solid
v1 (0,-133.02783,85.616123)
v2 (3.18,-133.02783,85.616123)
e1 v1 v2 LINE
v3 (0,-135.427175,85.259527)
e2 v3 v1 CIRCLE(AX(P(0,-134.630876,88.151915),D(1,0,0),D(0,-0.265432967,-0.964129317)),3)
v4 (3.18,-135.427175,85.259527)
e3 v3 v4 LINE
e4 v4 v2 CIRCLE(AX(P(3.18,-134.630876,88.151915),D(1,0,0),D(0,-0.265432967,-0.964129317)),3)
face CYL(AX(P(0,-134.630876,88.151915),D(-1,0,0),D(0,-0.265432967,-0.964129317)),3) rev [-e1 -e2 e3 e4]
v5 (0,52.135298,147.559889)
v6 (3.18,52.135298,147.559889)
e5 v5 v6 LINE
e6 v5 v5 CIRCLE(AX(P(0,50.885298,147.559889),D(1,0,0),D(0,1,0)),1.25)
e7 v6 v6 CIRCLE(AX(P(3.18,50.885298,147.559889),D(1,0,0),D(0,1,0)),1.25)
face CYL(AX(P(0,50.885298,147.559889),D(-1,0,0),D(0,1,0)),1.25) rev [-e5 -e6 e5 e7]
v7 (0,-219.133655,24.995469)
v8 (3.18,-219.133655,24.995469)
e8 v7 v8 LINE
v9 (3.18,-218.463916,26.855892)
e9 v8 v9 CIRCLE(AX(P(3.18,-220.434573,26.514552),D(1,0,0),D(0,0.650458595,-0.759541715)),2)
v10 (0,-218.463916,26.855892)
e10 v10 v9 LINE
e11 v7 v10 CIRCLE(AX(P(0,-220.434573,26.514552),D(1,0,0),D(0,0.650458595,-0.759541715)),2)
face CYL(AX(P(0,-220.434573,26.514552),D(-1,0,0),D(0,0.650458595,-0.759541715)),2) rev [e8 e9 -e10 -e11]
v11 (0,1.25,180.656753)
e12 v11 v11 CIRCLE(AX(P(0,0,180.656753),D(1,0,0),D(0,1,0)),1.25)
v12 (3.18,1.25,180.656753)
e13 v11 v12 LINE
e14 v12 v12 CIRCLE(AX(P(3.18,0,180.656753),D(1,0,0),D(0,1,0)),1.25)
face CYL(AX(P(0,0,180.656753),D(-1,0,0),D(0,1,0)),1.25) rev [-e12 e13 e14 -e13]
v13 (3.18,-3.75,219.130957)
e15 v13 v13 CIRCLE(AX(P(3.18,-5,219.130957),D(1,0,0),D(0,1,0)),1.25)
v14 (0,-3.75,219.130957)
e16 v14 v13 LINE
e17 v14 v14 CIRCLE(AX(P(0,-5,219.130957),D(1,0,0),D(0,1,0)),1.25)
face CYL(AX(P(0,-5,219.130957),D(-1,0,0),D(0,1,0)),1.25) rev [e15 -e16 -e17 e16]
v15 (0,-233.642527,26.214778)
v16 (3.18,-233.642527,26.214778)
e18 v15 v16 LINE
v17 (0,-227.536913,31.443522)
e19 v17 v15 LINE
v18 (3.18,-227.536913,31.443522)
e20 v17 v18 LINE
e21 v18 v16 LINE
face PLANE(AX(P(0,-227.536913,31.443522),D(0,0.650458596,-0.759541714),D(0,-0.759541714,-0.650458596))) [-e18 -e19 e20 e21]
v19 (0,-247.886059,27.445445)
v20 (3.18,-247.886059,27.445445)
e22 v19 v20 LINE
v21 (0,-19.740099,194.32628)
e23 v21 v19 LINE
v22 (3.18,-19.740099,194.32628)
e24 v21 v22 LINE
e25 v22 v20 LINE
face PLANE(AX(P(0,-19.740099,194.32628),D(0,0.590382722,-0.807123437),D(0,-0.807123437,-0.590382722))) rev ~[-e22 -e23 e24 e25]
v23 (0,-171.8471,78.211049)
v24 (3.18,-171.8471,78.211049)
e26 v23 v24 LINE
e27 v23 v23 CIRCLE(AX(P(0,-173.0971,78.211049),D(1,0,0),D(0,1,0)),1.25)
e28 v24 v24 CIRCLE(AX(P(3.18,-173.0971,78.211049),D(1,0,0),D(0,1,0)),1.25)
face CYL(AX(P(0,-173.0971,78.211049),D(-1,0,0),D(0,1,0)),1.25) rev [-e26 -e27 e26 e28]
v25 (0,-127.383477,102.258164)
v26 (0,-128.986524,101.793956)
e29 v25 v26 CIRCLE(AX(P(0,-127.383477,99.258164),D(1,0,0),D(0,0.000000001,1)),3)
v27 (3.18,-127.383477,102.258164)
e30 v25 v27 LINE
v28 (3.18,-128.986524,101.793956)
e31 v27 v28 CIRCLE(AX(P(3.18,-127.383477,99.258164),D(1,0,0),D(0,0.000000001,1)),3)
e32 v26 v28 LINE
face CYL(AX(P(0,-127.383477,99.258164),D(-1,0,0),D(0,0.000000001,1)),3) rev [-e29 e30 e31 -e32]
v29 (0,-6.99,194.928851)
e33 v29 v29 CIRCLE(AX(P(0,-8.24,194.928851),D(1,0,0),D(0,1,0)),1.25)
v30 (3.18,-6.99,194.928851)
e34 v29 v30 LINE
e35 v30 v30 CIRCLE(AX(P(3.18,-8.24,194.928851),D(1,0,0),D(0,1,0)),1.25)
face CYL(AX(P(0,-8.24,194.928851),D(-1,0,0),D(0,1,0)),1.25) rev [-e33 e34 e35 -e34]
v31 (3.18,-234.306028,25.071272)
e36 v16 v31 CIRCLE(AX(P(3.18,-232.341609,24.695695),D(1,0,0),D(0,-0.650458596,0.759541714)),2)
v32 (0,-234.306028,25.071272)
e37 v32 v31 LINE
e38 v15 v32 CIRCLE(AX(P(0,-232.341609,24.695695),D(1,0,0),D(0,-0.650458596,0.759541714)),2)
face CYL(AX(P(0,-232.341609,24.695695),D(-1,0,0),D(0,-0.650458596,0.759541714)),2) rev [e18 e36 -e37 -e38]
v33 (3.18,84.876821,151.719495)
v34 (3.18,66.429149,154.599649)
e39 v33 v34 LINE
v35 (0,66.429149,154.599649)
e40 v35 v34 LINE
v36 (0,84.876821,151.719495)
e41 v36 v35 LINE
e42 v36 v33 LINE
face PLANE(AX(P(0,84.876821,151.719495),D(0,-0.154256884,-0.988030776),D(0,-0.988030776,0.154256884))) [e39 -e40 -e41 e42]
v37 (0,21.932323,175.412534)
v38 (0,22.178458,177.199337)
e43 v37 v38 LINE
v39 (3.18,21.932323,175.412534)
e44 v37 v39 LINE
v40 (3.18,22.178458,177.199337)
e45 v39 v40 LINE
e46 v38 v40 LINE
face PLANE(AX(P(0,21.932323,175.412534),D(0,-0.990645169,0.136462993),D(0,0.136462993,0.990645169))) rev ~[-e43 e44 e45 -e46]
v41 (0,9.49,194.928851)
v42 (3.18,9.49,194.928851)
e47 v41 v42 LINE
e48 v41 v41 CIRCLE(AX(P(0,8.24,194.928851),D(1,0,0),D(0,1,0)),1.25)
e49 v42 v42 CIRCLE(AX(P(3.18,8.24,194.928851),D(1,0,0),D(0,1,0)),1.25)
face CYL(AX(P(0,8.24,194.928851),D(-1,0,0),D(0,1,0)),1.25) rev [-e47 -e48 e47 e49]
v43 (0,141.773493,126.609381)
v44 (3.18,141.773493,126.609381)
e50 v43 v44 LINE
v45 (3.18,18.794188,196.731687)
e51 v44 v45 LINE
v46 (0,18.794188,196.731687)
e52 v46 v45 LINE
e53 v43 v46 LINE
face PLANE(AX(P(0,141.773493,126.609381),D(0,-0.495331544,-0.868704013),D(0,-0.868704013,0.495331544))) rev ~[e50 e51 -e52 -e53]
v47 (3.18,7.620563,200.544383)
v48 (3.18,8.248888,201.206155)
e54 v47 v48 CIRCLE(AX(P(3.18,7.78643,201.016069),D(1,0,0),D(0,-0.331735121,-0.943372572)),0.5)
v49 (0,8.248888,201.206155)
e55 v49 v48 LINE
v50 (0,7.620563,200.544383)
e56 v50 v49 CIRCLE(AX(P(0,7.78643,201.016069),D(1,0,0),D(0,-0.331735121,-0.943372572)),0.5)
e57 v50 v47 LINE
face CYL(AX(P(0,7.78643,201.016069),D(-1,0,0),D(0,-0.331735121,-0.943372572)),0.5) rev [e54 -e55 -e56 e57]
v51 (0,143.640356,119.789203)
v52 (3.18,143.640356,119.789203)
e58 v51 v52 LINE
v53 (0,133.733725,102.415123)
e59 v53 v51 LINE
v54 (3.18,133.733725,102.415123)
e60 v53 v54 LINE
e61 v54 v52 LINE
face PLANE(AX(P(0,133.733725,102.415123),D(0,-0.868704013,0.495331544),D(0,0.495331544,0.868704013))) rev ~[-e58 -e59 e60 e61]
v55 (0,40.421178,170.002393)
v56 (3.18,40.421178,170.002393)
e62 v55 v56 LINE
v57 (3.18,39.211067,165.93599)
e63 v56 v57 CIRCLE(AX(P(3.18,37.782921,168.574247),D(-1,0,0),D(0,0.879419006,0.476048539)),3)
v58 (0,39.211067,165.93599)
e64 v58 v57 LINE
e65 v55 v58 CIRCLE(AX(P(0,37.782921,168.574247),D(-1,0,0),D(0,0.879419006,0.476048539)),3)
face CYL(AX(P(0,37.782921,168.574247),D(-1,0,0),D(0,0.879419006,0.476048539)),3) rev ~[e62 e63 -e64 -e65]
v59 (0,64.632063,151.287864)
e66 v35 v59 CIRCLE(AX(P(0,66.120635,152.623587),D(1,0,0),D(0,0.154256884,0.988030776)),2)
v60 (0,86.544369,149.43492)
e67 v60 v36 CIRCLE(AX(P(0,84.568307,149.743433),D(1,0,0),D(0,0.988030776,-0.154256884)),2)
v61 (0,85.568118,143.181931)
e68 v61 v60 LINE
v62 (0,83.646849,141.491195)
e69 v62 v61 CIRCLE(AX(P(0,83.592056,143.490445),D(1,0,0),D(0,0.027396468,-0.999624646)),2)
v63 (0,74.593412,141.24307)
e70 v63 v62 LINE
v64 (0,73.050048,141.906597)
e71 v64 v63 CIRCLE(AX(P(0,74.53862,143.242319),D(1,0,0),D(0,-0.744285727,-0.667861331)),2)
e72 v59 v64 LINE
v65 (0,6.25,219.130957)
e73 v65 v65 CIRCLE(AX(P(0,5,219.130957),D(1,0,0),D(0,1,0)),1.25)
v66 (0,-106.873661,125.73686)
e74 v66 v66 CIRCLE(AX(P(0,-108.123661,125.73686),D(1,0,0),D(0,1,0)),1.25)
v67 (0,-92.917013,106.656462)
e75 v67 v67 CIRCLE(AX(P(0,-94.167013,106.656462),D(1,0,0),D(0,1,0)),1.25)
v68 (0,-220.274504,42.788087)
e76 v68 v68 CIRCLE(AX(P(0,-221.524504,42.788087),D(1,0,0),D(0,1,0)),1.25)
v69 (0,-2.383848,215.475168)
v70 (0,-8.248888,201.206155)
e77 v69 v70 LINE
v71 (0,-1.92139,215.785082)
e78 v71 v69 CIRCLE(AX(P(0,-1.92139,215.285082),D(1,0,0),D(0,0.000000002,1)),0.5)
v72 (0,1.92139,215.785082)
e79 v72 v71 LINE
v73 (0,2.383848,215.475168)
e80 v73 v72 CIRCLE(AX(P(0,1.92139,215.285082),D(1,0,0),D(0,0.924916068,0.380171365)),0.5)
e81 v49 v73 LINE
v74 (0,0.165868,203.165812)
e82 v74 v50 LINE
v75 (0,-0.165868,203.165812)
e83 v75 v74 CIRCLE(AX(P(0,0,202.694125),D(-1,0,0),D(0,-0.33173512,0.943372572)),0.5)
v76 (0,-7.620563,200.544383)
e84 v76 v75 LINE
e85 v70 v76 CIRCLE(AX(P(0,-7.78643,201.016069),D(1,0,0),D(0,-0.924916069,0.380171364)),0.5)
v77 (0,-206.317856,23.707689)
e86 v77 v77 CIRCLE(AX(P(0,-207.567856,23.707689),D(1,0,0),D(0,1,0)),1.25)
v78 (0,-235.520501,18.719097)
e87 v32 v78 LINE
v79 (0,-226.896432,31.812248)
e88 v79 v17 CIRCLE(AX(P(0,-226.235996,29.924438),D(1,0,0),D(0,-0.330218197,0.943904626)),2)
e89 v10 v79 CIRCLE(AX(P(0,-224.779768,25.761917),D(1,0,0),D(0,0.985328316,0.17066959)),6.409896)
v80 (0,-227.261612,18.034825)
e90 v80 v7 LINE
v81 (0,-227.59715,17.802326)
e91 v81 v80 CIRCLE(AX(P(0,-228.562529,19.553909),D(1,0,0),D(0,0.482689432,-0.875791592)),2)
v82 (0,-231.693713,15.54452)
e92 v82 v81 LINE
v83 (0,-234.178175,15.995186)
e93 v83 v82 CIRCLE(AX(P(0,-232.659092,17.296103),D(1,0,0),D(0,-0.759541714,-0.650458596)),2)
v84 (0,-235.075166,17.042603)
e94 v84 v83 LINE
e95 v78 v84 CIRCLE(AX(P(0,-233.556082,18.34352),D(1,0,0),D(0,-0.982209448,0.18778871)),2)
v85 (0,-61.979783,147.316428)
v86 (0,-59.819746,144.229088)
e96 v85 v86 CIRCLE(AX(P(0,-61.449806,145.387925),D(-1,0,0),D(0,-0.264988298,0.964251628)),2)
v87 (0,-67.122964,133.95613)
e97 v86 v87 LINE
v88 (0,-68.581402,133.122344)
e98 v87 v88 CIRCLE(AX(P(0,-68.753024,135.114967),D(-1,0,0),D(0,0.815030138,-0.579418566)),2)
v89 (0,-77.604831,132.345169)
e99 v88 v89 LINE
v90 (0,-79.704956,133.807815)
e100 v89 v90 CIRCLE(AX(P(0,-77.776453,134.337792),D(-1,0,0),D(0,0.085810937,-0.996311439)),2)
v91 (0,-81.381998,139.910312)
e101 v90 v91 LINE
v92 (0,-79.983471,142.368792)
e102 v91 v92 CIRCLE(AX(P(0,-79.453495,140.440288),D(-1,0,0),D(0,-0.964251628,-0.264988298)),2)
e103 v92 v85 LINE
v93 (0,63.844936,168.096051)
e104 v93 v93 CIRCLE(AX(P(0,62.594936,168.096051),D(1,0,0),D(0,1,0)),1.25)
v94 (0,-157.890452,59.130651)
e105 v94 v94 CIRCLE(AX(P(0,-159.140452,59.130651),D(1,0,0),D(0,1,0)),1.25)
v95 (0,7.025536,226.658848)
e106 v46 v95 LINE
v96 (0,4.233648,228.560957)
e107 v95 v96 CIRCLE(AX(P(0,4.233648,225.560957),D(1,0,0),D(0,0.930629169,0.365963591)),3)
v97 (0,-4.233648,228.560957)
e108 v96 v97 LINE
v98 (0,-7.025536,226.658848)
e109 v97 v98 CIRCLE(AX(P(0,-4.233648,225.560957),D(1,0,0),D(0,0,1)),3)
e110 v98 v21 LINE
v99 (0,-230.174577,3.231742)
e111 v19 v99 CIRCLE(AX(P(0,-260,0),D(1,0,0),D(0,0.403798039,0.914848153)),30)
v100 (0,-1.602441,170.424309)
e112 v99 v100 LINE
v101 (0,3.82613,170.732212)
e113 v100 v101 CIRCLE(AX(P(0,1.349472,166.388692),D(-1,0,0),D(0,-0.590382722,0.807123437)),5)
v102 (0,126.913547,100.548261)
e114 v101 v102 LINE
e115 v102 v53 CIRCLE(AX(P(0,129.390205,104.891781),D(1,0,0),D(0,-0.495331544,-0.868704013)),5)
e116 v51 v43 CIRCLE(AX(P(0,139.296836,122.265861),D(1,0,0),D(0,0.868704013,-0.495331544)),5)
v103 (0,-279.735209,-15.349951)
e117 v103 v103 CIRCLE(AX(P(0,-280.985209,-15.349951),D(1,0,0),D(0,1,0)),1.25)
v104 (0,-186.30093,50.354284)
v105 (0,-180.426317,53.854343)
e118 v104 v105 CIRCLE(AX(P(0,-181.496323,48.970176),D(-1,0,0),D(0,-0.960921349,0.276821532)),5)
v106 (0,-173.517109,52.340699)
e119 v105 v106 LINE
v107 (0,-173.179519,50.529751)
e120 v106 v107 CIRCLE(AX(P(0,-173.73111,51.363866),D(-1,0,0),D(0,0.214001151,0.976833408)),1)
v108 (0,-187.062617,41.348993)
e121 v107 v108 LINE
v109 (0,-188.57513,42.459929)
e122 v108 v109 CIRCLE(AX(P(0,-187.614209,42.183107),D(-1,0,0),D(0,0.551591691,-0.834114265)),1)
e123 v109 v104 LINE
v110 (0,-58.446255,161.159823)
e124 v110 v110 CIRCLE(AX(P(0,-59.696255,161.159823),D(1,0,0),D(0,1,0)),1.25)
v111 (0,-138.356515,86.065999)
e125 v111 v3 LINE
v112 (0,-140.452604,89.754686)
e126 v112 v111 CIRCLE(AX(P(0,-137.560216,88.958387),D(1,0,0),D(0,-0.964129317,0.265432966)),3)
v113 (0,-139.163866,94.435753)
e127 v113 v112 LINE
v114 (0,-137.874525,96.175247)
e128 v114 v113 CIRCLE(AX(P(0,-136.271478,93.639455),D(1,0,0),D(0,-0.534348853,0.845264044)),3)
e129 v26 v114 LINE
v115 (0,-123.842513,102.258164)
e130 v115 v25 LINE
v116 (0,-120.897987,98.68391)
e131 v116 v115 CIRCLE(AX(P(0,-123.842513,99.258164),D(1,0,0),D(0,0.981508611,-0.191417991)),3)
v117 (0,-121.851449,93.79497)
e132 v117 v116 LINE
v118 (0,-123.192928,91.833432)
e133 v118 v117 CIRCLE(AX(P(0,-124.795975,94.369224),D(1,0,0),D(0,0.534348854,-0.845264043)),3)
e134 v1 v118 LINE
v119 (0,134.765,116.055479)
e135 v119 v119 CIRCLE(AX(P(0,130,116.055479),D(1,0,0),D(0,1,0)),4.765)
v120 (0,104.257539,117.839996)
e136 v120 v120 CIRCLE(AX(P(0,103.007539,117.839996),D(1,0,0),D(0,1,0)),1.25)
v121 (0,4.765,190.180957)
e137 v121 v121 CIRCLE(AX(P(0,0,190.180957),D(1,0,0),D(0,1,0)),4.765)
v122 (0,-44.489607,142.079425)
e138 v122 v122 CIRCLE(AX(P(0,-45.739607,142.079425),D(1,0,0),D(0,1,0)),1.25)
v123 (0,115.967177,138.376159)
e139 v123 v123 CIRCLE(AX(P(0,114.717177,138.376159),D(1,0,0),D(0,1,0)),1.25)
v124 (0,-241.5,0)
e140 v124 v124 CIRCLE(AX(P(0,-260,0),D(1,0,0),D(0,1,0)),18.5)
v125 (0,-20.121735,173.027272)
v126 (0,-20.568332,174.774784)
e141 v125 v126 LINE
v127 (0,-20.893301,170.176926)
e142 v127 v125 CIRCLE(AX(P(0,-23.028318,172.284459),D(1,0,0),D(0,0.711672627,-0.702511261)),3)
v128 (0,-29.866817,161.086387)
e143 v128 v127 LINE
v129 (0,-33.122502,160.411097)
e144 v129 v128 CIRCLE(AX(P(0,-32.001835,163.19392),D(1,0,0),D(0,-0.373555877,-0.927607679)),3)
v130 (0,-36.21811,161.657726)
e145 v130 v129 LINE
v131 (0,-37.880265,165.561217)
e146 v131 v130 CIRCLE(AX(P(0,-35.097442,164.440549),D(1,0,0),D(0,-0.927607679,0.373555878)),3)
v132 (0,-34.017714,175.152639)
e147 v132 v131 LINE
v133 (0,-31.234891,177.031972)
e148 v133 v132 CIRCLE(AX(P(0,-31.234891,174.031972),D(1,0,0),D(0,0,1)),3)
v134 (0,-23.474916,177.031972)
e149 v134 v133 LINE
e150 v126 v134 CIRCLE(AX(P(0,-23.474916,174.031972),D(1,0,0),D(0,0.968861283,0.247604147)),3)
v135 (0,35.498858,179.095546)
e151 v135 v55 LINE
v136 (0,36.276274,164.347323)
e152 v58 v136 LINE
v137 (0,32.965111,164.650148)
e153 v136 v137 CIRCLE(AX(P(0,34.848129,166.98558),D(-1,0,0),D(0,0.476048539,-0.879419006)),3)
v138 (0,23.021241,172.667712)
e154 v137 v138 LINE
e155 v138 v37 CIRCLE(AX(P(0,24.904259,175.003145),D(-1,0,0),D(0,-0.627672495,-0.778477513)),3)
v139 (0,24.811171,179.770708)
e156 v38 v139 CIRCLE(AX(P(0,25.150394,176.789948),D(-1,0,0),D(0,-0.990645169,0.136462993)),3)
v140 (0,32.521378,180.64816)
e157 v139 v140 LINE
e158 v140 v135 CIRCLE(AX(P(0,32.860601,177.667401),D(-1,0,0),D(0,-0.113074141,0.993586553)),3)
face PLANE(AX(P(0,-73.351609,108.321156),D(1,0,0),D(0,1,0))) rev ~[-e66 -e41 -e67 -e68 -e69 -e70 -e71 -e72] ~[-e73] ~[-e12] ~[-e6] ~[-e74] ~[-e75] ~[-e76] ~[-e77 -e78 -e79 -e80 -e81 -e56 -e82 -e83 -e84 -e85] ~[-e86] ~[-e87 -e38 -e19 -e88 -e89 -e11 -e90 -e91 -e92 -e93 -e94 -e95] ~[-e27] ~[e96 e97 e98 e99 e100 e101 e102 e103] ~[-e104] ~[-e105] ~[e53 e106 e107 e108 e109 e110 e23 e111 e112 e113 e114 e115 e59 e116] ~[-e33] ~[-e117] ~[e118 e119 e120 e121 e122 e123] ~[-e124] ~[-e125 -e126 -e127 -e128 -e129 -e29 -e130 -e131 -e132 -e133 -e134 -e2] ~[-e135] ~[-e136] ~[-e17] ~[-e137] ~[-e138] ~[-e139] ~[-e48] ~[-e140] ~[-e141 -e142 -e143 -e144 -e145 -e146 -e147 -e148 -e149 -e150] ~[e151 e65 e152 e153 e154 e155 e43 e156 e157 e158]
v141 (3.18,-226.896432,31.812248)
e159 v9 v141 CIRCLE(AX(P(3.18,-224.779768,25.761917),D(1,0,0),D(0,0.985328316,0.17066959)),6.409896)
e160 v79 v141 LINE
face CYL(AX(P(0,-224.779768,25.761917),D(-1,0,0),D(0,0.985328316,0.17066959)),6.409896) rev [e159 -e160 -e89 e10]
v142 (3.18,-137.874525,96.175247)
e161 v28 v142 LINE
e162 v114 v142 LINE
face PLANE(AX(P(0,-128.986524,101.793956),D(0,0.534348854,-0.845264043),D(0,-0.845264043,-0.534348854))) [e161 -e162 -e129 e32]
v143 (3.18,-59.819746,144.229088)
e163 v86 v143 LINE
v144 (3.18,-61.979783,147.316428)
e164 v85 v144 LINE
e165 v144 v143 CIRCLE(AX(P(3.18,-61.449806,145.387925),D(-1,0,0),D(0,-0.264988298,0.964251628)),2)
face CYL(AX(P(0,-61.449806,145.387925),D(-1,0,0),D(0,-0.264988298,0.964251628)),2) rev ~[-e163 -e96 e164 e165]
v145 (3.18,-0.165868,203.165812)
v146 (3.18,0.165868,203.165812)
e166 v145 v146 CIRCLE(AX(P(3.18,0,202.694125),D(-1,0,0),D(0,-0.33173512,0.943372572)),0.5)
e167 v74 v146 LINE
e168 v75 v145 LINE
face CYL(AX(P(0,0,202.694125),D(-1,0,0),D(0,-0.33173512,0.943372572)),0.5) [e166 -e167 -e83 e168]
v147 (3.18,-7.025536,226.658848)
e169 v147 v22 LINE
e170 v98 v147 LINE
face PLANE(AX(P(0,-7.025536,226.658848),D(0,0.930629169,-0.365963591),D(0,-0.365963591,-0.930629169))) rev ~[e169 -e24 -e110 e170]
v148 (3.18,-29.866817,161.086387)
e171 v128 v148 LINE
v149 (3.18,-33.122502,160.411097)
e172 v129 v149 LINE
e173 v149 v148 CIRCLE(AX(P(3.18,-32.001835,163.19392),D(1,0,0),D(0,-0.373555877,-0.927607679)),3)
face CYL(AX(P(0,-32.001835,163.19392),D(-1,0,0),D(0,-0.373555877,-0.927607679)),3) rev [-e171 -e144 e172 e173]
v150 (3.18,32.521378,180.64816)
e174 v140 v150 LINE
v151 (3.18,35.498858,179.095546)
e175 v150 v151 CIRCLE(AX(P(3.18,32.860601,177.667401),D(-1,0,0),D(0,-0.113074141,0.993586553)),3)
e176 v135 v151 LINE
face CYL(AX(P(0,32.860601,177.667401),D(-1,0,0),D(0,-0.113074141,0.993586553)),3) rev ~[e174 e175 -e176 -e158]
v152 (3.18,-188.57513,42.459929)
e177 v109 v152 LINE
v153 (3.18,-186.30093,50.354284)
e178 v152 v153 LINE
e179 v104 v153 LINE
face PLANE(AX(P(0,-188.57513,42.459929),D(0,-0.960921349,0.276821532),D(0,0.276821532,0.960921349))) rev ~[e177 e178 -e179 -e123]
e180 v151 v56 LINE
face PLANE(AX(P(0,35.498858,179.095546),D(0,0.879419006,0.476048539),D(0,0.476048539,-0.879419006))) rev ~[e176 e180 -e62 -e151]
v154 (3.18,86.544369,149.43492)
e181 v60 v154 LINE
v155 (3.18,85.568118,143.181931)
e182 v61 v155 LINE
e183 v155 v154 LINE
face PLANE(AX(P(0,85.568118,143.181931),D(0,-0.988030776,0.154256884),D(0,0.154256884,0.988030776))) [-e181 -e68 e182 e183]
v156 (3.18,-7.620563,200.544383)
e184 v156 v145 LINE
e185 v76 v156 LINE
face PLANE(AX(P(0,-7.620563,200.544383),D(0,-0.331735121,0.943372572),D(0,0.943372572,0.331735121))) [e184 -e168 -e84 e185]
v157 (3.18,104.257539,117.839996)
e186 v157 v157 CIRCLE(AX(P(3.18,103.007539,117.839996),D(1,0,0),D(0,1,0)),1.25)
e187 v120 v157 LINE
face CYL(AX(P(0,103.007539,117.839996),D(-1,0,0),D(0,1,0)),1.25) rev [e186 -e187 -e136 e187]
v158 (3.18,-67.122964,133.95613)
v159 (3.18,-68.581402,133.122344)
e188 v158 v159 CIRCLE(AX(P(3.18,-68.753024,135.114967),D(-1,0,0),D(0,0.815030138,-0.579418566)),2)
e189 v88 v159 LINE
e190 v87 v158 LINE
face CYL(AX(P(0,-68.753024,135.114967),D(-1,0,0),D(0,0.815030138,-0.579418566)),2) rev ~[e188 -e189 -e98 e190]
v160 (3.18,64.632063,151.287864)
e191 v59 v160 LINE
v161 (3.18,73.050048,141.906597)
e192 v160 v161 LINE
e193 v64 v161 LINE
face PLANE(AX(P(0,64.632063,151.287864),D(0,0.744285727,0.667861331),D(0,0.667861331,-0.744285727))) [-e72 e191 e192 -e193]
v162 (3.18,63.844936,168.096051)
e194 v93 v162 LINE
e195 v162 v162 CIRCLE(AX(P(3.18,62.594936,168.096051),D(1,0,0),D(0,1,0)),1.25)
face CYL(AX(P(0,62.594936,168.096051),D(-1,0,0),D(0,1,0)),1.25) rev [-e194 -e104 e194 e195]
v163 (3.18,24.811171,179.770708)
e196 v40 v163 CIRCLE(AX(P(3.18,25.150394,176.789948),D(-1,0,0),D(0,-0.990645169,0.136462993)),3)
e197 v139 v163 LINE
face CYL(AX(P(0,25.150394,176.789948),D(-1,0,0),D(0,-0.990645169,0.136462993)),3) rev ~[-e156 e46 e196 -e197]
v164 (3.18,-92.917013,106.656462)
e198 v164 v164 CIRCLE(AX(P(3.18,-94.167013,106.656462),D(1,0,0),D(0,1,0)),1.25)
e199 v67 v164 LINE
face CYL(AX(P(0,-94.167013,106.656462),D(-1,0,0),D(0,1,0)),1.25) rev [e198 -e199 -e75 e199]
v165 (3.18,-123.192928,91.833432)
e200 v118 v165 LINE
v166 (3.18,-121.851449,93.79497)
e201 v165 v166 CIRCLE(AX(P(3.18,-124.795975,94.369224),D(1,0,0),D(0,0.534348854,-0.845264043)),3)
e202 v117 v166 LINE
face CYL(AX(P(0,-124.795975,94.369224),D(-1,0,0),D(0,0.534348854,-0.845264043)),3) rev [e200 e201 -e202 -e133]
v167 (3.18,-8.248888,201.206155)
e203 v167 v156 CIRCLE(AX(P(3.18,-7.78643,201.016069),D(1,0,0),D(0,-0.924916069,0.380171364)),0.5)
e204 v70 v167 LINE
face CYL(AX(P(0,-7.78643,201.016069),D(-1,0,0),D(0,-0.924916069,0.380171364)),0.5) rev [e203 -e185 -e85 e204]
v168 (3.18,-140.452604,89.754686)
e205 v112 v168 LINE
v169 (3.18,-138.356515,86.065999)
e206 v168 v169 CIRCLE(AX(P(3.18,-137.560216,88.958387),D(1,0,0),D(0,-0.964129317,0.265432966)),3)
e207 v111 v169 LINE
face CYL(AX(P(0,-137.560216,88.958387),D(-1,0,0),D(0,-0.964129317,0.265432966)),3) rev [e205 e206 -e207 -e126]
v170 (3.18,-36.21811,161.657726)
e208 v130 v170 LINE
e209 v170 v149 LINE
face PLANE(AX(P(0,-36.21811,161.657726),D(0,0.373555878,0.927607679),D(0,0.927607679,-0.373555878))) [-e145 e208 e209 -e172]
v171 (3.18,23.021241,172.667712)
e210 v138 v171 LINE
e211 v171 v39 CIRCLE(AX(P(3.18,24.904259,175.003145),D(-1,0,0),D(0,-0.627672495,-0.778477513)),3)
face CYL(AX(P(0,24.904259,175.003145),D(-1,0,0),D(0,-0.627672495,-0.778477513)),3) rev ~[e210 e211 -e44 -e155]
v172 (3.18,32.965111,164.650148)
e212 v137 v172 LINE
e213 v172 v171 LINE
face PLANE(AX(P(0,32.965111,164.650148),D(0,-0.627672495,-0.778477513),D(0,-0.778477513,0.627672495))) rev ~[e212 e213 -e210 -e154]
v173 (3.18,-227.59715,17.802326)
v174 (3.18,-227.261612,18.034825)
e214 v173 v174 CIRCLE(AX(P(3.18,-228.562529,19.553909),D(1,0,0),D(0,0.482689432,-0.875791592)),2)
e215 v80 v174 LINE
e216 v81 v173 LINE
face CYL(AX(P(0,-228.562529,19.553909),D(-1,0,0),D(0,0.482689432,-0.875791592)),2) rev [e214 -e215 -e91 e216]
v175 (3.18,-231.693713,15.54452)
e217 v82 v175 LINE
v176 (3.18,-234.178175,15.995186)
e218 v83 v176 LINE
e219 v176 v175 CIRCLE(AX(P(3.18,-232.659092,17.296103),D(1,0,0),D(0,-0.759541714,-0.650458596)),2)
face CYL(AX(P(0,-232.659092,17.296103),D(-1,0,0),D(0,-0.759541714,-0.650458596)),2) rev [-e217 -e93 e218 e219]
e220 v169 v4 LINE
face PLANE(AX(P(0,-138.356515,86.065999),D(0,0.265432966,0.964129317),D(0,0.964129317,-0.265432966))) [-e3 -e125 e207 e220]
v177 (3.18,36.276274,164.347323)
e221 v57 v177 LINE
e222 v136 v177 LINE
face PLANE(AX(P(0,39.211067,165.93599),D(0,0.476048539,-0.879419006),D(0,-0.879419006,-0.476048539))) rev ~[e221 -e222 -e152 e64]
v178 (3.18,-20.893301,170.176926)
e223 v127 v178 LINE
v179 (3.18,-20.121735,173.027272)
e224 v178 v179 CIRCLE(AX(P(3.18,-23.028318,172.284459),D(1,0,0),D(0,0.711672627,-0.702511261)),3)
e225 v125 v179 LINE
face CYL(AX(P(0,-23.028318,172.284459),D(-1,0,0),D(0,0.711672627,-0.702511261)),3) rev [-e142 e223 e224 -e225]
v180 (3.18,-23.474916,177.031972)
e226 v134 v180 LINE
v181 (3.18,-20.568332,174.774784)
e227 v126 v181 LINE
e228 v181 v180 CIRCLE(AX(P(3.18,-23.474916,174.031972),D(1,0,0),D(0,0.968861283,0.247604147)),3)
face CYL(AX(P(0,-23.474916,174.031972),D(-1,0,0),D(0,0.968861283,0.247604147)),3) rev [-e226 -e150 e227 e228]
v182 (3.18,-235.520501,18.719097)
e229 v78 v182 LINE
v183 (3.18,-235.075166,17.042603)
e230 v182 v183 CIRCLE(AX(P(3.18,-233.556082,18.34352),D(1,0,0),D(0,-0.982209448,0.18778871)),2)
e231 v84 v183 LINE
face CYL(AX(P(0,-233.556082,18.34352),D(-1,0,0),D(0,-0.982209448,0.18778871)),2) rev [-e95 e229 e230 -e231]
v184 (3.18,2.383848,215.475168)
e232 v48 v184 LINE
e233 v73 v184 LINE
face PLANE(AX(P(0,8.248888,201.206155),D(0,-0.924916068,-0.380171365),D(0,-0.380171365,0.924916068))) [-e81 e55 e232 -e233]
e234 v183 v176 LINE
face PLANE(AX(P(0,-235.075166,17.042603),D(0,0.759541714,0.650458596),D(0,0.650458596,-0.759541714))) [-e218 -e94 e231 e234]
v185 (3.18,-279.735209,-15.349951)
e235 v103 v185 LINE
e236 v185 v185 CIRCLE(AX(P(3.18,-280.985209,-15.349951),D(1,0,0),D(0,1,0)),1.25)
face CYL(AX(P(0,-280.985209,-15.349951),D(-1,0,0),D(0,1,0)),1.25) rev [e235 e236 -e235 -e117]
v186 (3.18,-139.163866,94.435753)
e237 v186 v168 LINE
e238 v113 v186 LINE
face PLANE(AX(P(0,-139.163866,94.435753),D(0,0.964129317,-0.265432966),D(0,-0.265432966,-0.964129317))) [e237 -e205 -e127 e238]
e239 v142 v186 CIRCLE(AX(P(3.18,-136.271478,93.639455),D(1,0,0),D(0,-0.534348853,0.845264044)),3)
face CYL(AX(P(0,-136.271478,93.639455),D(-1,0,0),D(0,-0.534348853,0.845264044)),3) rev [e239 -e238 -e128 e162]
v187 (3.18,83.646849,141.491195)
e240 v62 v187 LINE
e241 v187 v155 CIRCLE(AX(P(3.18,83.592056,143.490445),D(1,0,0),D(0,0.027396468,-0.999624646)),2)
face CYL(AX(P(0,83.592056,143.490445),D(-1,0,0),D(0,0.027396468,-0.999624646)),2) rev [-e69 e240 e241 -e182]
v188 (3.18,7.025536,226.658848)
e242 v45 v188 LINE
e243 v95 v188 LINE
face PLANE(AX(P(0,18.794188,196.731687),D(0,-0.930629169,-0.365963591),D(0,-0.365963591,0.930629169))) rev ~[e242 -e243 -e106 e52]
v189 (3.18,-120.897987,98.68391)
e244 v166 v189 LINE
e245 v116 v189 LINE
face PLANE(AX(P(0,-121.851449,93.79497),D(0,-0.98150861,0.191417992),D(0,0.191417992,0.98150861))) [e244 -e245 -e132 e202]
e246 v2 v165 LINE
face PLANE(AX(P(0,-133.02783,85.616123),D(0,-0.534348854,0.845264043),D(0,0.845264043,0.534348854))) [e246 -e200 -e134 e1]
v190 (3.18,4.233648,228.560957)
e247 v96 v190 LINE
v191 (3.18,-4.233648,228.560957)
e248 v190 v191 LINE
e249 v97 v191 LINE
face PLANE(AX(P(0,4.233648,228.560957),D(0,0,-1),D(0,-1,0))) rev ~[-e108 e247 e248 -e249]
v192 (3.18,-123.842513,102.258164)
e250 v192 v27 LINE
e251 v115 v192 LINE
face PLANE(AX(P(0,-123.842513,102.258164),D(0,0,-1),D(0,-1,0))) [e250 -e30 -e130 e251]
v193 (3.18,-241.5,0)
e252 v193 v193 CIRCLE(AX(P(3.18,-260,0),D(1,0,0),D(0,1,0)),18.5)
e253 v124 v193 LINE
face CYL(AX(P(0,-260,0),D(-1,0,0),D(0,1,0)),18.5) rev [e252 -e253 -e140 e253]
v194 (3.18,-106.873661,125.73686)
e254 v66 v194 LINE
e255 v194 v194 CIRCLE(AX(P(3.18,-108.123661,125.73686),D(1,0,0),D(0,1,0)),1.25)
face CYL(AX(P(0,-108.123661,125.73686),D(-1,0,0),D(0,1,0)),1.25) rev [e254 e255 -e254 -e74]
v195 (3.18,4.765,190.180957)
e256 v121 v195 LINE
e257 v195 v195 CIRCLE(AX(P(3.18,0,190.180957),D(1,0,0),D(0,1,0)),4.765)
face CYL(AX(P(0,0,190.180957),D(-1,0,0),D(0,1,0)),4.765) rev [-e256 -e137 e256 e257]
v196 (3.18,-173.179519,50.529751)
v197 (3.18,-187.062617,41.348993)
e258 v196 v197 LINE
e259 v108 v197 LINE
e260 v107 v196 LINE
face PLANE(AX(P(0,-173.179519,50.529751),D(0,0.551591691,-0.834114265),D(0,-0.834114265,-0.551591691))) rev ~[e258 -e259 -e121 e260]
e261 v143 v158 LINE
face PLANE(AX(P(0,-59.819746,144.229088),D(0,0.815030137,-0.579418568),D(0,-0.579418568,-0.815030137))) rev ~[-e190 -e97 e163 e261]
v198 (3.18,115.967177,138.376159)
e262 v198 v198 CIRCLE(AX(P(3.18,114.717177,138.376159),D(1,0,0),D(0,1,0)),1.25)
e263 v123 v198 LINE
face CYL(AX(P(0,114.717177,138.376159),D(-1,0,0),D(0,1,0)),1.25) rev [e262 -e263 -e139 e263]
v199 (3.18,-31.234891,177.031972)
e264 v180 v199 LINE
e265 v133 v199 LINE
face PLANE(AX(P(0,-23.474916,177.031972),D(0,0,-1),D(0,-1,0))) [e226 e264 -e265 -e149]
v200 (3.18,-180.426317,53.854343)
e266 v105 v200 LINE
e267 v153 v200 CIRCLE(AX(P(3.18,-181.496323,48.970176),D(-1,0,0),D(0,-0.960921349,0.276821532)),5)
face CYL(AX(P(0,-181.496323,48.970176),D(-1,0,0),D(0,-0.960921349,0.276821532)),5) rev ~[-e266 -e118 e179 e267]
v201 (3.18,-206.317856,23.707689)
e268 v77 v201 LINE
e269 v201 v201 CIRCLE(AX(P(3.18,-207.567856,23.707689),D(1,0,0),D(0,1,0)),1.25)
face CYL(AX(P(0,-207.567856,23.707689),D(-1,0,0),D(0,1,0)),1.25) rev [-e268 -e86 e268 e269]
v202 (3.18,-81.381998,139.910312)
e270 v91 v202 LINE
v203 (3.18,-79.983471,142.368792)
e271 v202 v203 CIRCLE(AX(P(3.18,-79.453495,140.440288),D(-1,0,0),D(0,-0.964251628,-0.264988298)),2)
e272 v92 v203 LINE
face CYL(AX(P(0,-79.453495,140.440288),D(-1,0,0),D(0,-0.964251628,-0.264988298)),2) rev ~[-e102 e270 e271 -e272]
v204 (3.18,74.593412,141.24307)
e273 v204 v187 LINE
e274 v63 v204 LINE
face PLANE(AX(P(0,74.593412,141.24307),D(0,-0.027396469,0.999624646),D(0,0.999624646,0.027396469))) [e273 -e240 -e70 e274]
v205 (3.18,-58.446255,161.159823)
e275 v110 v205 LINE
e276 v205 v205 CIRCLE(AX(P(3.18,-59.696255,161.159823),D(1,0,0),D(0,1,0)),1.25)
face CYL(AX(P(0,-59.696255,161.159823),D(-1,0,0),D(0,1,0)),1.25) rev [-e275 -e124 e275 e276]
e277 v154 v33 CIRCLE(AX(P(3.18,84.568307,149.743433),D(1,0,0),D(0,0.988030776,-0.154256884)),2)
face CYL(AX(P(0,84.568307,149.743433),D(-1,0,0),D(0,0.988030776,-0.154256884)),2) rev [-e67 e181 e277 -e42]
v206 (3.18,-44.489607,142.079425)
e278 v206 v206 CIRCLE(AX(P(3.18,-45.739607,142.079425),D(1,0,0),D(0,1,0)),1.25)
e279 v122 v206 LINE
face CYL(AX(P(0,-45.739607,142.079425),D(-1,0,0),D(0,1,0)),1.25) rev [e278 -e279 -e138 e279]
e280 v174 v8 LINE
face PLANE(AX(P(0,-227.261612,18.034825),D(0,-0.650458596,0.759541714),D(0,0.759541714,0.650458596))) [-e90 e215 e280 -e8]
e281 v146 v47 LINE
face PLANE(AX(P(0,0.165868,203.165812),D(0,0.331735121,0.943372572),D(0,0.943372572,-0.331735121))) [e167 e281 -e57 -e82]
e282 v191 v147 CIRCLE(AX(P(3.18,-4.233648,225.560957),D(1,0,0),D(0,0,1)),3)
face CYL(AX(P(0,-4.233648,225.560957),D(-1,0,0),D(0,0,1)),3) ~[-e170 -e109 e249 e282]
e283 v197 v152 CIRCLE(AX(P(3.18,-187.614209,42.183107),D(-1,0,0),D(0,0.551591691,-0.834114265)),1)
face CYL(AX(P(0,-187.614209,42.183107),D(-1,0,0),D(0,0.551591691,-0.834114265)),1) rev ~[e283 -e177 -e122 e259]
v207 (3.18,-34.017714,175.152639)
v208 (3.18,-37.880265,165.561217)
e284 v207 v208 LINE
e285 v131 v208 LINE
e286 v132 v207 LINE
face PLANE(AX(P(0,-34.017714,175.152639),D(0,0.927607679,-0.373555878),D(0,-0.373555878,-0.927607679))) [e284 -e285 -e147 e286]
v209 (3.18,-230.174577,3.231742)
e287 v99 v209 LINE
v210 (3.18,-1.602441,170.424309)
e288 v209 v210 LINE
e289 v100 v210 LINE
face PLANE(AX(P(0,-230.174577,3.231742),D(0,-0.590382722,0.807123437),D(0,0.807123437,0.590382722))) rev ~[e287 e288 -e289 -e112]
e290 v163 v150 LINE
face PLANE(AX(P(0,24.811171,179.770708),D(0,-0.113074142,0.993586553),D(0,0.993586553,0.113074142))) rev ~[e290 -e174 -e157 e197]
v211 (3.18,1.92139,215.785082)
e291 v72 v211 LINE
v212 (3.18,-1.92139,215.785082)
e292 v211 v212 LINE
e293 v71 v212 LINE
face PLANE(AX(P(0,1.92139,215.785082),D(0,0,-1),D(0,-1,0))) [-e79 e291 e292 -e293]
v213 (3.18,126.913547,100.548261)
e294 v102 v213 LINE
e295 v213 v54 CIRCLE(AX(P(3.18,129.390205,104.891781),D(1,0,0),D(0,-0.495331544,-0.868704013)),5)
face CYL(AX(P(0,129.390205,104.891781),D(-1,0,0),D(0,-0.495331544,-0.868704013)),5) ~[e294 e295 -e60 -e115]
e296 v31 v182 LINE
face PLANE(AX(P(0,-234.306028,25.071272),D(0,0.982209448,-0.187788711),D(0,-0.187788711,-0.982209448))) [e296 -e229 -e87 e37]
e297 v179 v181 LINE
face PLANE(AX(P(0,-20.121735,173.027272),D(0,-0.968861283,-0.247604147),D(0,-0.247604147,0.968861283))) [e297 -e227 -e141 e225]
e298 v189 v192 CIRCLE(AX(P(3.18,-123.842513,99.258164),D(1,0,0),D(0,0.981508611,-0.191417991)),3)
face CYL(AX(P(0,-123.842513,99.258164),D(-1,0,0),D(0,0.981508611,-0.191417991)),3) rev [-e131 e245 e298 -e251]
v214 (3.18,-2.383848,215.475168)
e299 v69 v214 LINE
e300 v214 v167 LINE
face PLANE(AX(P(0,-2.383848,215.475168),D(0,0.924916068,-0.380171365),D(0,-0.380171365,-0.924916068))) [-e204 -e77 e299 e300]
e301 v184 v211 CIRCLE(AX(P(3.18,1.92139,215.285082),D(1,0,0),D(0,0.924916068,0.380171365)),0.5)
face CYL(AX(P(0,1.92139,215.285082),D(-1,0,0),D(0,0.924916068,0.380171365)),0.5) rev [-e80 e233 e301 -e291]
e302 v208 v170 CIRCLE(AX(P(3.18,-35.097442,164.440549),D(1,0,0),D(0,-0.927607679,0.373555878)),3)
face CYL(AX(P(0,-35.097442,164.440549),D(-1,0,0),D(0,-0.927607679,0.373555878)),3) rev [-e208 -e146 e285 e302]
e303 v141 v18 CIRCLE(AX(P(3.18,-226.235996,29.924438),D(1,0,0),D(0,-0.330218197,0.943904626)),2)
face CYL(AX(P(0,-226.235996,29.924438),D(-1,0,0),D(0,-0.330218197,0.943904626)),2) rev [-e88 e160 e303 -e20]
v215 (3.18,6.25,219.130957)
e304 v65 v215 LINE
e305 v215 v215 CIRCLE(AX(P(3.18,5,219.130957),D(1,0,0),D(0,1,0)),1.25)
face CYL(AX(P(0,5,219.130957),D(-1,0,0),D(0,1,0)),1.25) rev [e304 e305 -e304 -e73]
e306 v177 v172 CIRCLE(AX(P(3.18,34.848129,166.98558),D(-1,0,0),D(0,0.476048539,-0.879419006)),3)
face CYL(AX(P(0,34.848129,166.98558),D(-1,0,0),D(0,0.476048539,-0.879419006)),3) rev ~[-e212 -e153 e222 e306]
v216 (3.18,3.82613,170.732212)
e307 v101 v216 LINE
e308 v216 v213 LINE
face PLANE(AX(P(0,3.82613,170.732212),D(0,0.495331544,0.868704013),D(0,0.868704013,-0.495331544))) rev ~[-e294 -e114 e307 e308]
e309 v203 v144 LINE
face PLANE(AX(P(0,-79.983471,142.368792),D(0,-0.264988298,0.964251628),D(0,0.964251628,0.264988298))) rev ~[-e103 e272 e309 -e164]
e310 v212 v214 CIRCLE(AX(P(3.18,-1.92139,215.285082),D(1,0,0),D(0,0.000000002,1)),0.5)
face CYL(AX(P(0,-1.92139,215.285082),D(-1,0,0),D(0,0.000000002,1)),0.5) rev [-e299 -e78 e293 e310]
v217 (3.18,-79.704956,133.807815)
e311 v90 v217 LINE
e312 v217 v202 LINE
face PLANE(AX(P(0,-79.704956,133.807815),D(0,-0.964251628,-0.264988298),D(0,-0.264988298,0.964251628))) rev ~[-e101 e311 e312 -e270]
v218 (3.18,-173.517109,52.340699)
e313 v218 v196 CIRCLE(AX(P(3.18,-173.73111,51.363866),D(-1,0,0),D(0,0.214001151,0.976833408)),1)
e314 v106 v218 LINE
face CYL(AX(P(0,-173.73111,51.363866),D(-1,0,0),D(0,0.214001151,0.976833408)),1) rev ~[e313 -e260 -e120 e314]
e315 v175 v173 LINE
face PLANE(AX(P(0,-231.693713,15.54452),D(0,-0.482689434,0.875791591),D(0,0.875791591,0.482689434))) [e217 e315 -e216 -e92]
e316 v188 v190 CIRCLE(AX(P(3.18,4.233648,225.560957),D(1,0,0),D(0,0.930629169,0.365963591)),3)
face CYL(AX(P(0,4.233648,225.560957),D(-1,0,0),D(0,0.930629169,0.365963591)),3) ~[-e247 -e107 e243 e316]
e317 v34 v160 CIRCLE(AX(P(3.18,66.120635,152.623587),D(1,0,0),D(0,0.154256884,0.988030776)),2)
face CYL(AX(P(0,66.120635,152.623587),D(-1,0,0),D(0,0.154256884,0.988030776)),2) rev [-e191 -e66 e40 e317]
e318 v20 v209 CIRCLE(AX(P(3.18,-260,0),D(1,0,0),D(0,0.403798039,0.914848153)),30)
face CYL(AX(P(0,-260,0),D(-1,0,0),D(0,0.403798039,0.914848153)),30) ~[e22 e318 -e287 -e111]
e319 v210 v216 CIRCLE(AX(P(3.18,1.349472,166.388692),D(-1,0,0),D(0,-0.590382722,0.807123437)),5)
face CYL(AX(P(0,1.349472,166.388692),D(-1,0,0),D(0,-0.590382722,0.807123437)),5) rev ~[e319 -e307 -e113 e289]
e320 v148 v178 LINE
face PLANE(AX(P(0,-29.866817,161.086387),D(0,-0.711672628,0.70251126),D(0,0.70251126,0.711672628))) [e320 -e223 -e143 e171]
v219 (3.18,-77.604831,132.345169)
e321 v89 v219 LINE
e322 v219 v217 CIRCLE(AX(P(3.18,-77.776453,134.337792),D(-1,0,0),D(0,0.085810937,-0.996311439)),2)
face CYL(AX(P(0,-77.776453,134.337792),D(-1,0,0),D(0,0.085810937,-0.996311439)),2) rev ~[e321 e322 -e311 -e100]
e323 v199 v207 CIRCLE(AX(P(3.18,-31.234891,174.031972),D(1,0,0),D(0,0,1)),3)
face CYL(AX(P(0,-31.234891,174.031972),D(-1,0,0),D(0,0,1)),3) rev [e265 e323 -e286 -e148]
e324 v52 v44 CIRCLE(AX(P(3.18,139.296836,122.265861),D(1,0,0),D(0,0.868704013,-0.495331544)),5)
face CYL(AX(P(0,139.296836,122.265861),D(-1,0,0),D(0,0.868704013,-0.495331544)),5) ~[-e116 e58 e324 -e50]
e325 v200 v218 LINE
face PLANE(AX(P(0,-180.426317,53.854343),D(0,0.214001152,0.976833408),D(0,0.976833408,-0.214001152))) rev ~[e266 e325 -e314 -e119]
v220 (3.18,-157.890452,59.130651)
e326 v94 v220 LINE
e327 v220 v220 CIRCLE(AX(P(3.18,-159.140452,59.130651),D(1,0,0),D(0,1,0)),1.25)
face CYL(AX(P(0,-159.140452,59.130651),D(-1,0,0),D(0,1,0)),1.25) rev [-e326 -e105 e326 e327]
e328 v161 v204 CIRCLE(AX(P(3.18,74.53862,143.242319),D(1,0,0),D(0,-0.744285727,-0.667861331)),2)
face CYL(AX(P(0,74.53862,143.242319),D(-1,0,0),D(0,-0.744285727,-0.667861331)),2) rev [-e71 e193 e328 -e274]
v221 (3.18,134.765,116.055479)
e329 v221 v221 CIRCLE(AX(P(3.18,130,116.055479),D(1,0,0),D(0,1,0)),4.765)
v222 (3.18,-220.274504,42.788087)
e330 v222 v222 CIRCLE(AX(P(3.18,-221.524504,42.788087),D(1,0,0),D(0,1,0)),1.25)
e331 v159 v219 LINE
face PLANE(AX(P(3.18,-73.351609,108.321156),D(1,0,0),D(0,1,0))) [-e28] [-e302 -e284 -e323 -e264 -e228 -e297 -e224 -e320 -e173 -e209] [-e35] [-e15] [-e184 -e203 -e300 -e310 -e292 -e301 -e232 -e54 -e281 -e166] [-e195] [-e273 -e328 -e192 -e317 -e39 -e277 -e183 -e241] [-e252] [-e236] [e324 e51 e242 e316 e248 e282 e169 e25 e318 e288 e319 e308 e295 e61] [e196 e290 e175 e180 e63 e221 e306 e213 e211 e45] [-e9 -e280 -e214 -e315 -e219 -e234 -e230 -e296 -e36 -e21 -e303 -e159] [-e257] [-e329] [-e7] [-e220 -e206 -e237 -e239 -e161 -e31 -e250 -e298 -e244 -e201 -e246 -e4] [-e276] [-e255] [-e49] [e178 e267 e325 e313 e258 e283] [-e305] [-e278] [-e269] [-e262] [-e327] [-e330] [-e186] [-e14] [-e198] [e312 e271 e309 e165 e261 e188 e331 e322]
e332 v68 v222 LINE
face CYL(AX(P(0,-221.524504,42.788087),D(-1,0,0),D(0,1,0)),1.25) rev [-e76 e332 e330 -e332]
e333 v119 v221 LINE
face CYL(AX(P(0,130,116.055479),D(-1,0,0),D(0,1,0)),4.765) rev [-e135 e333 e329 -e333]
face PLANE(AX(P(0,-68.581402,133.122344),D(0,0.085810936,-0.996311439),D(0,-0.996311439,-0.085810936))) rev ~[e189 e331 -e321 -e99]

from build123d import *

# Parameters (mm, degrees)
SKETCH3_R                           = 4.765
SKETCH3_R_2                         = 1.25
SKETCH3_R_3                         = 18.5
BOSS_ROCKER_BASE_DEPTH              = 3.18
SKETCH4_R                           = 1.25
CUT_MOTOR_HOLES_SHAFT_SUPPORT_DEPTH = 3.18
SKETCH5_R                           = 1.25
CUT_SUPPORT_HOLES_DEPTH             = 3.18
CUT_LIGHTENING_HOLES_DEPTH          = 3.18


with BuildPart() as part:
    # Sketch3 → Boss-rocker base (new body)
    with BuildSketch(Plane.YZ):
        with BuildLine():
            Line((-19.740098585, 194.326279503), (-247.886058825, 27.445444598))
            ThreePointArc((-247.886058825, 27.445444598), (-284.213703097, -17.711481653), (-230.174577172, 3.231741502))
            Line((-230.174577172, 3.231741502), (-1.602441241, 170.424309102))
            ThreePointArc((-1.602441241, 170.424309102), (1.066332673, 171.380668673), (3.826130086, 170.732211983))
            Line((3.826130086, 170.732211983), (126.91354691, 100.548260636))
            ThreePointArc((126.91354691, 100.548260636), (130.710275653, 100.069186741), (133.733724692, 102.415122982))
            Line((133.733724692, 102.415122982), (143.640355564, 119.789203239))
            ThreePointArc((143.640355564, 119.789203239), (144.119429459, 123.585931982), (141.773493218, 126.609381021))
            Line((141.773493218, 126.609381021), (18.794188293, 196.731687397))
            Line((18.794188293, 196.731687397), (7.025536002, 226.658847865))
            ThreePointArc((7.025536002, 226.658847865), (5.922779586, 228.040238472), (4.233648495, 228.560957093))
            Line((4.233648495, 228.560957093), (-4.233648495, 228.560957093))
            ThreePointArc((-4.233648495, 228.560957093), (-5.922779586, 228.040238472), (-7.025536002, 226.658847865))
            Line((-7.025536002, 226.658847865), (-19.740098585, 194.326279503))
        make_face()
        with Locations((0, 190.180957093)):
            Circle(SKETCH3_R, mode=Mode.SUBTRACT)
        with Locations((130, 116.055478547)):
            Circle(SKETCH3_R, mode=Mode.SUBTRACT)
        with Locations((-5, 219.130957093)):
            Circle(SKETCH3_R_2, mode=Mode.SUBTRACT)
        with Locations((5, 219.130957093)):
            Circle(SKETCH3_R_2, mode=Mode.SUBTRACT)
        with Locations((-260, 0)):
            Circle(SKETCH3_R_3, mode=Mode.SUBTRACT)
    extrude(amount=BOSS_ROCKER_BASE_DEPTH)

    # Sketch4 → Cut-motor holes + shaft support (cut)
    with BuildSketch(Plane.YZ):
        with Locations((0, 180.656752709)):
            Circle(SKETCH4_R)
        with Locations((-8.24, 194.928851363)):
            Circle(SKETCH4_R)
        with Locations((8.24, 194.928851363)):
            Circle(SKETCH4_R)
    extrude(amount=CUT_MOTOR_HOLES_SHAFT_SUPPORT_DEPTH, mode=Mode.SUBTRACT)

    # Sketch5 → Cut-support holes (cut)
    with BuildSketch(Plane.YZ):
        with Locations((-173.097100025, 78.211048963)):
            Circle(SKETCH5_R)
        with Locations((-159.140452483, 59.130650922)):
            Circle(SKETCH5_R)
        with Locations((-94.167013372, 106.656461829)):
            Circle(SKETCH5_R)
        with Locations((-108.123660914, 125.73685987)):
            Circle(SKETCH5_R)
        with Locations((-221.524503751, 42.788087462)):
            Circle(SKETCH5_R)
        with Locations((-207.567856209, 23.707689422)):
            Circle(SKETCH5_R)
        with Locations((-45.739607178, 142.079425135)):
            Circle(SKETCH5_R)
        with Locations((-59.69625472, 161.159823175)):
            Circle(SKETCH5_R)
        with Locations((103.007538851, 117.839995969)):
            Circle(SKETCH5_R)
        with Locations((114.717176541, 138.376158833)):
            Circle(SKETCH5_R)
        with Locations((62.594935771, 168.096051448)):
            Circle(SKETCH5_R)
        with Locations((50.885298081, 147.559888585)):
            Circle(SKETCH5_R)
        with Locations((-280.985209351, -15.349950766)):
            Circle(SKETCH5_R)
    extrude(amount=CUT_SUPPORT_HOLES_DEPTH, mode=Mode.SUBTRACT)

    # Sketch6 → Cut-lightening holes (cut)
    with BuildSketch(Plane.YZ):
        with BuildLine():
            Line((-79.983471427, 142.368791683), (-61.979782767, 147.316428458))
            ThreePointArc((-61.979782767, 147.316428458), (-59.811067724, 146.534457497), (-59.819745898, 144.229088067))
            Line((-59.819745898, 144.229088067), (-67.122963599, 133.95613022))
            ThreePointArc((-67.122963599, 133.95613022), (-67.760393878, 133.378682327), (-68.581402, 133.122344477))
            Line((-68.581402, 133.122344477), (-77.604831251, 132.34516891))
            ThreePointArc((-77.604831251, 132.34516891), (-78.919471752, 132.69660063), (-79.704956379, 133.807815192))
            Line((-79.704956379, 133.807815192), (-81.381998087, 139.910311831))
            ThreePointArc((-81.381998087, 139.910311831), (-81.191902606, 141.429196112), (-79.983471427, 142.368791683))
        make_face()
        with BuildLine():
            Line((-23.474916203, 177.031971532), (-31.234891161, 177.031971532))
            ThreePointArc((-31.234891161, 177.031971532), (-32.91387852, 176.518133523), (-34.017714198, 175.152639164))
            Line((-34.017714198, 175.152639164), (-37.880265406, 165.561216901))
            ThreePointArc((-37.880265406, 165.561216901), (-37.857627092, 163.26522791), (-36.218110002, 161.657726231))
            Line((-36.218110002, 161.657726231), (-33.122502329, 160.411097438))
            ThreePointArc((-33.122502329, 160.411097438), (-31.392547815, 160.256443753), (-29.866816812, 161.086386695))
            Line((-29.866816812, 161.086386695), (-20.893300564, 170.176925526))
            ThreePointArc((-20.893300564, 170.176925526), (-20.132536099, 171.500594144), (-20.121734598, 173.027271748))
            Line((-20.121734598, 173.027271748), (-20.568332353, 174.774783973))
            ThreePointArc((-20.568332353, 174.774783973), (-21.634866927, 176.401405781), (-23.474916203, 177.031971532))
        make_face()
        with BuildLine():
            Line((-123.842513182, 102.258163939), (-127.383477271, 102.258163939))
            ThreePointArc((-127.383477271, 102.258163939), (-128.217930269, 102.139776022), (-128.986523832, 101.793956069))
            Line((-128.986523832, 101.793956069), (-137.87452461, 96.175246667))
            ThreePointArc((-137.87452461, 96.175246667), (-138.681600876, 95.425877769), (-139.163866001, 94.435753436))
            Line((-139.163866001, 94.435753436), (-140.452603638, 89.754685534))
            ThreePointArc((-140.452603638, 89.754685534), (-140.168511172, 87.476227852), (-138.356514585, 86.065998684))
            Line((-138.356514585, 86.065998684), (-135.427175254, 85.259526758))
            ThreePointArc((-135.427175254, 85.259526758), (-134.189854142, 85.184508534), (-133.027829794, 85.61612258))
            Line((-133.027829794, 85.61612258), (-123.19292846, 91.833432183))
            ThreePointArc((-123.19292846, 91.833432183), (-122.319685125, 92.675710701), (-121.851449189, 93.794970338))
            Line((-121.851449189, 93.794970338), (-120.89798735, 98.683909964))
            ThreePointArc((-120.89798735, 98.683909964), (-121.527047578, 101.165680397), (-123.842513182, 102.258163939))
        make_face()
        with BuildLine():
            Line((-173.179518759, 50.529751316), (-187.062617136, 41.348992712))
            ThreePointArc((-187.062617136, 41.348992712), (-188.206182034, 41.377149334), (-188.575130176, 42.459928509))
            Line((-188.575130176, 42.459928509), (-186.300929891, 50.354284082))
            ThreePointArc((-186.300929891, 50.354284082), (-184.055505641, 53.265590831), (-180.426317386, 53.854343461))
            Line((-180.426317386, 53.854343461), (-173.517109299, 52.340698989))
            ThreePointArc((-173.517109299, 52.340698989), (-172.74804587, 51.547125046), (-173.179518759, 50.529751316))
        make_face()
        with BuildLine():
            Line((-227.536912906, 31.443521835), (-233.642526561, 26.214778226))
            ThreePointArc((-233.642526561, 26.214778226), (-234.07149562, 25.699434586), (-234.306028267, 25.071272219))
            Line((-234.306028267, 25.071272219), (-235.520501126, 18.719097413))
            ThreePointArc((-235.520501126, 18.719097413), (-235.489047738, 17.830056904), (-235.075165658, 17.0426028))
            Line((-235.075165658, 17.0426028), (-234.178175321, 15.995185513))
            ThreePointArc((-234.178175321, 15.995185513), (-233.016054277, 15.328216057), (-231.693713026, 15.544519522))
            Line((-231.693713026, 15.544519522), (-227.597149989, 17.802325732))
            ThreePointArc((-227.597149989, 17.802325732), (-227.423433386, 17.909992398), (-227.261611665, 18.034825485))
            Line((-227.261611665, 18.034825485), (-219.133655325, 24.995468947))
            ThreePointArc((-219.133655325, 24.995468947), (-218.552793599, 25.837124808), (-218.463915883, 26.855891554))
            ThreePointArc((-218.463915883, 26.855891554), (-221.531743706, 31.287956059), (-226.896432107, 31.812247659))
            ThreePointArc((-226.896432107, 31.812247659), (-227.233851743, 31.657725269), (-227.536912906, 31.443521835))
        make_face()
        with BuildLine():
            Line((85.568117513, 143.181930885), (86.544369033, 149.434919538))
            ThreePointArc((86.544369033, 149.434919538), (86.183746182, 150.922567652), (84.87682125, 151.719494858))
            Line((84.87682125, 151.719494858), (66.429148509, 154.599648582))
            ThreePointArc((66.429148509, 154.599648582), (64.362763101, 153.577467158), (64.632063287, 151.28786437))
            Line((64.632063287, 151.28786437), (73.050048081, 141.906596667))
            ThreePointArc((73.050048081, 141.906596667), (73.74868466, 141.404929088), (74.593412473, 141.243070035))
            Line((74.593412473, 141.243070035), (83.646848899, 141.491195361))
            ThreePointArc((83.646848899, 141.491195361), (84.913320183, 141.989025039), (85.568117513, 143.181930885))
        make_face()
        with BuildLine():
            Line((21.93232317, 175.41253387), (22.178458249, 177.199337176))
            ThreePointArc((22.178458249, 177.199337176), (23.054223795, 178.936124213), (24.811171332, 179.770707856))
            Line((24.811171332, 179.770707856), (32.521378103, 180.648160365))
            ThreePointArc((32.521378103, 180.648160365), (34.247699157, 180.327467884), (35.498857547, 179.095546323))
            Line((35.498857547, 179.095546323), (40.421178328, 170.0023928))
            ThreePointArc((40.421178328, 170.0023928), (40.658302188, 167.718569205), (39.211066927, 165.935990164))
            Line((39.211066927, 165.935990164), (36.27627425, 164.347323378))
            ThreePointArc((36.27627425, 164.347323378), (34.574902041, 163.998048434), (32.965111147, 164.650147857))
            Line((32.965111147, 164.650147857), (23.021241192, 172.667712351))
            ThreePointArc((23.021241192, 172.667712351), (22.115683157, 173.896868902), (21.93232317, 175.41253387))
        make_face()
        with BuildLine():
            Line((1.921390016, 215.785081873), (-1.921390016, 215.785081873))
            ThreePointArc((-1.921390016, 215.785081873), (-2.199739759, 215.700438853), (-2.38384805, 215.475167556))
            Line((-2.38384805, 215.475167556), (-8.248888496, 201.206154542))
            ThreePointArc((-8.248888496, 201.206154542), (-8.149028051, 200.671797182), (-7.620562901, 200.544382574))
            Line((-7.620562901, 200.544382574), (-0.165867561, 203.165811621))
            ThreePointArc((-0.165867561, 203.165811621), (0, 203.194125335), (0.165867561, 203.165811621))
            Line((0.165867561, 203.165811621), (7.620562901, 200.544382574))
            ThreePointArc((7.620562901, 200.544382574), (8.149028051, 200.671797182), (8.248888496, 201.206154542))
            Line((8.248888496, 201.206154542), (2.38384805, 215.475167556))
            ThreePointArc((2.38384805, 215.475167556), (2.199739759, 215.700438853), (1.921390016, 215.785081873))
        make_face()
    extrude(amount=CUT_LIGHTENING_HOLES_DEPTH, mode=Mode.SUBTRACT)


solid = part.part
